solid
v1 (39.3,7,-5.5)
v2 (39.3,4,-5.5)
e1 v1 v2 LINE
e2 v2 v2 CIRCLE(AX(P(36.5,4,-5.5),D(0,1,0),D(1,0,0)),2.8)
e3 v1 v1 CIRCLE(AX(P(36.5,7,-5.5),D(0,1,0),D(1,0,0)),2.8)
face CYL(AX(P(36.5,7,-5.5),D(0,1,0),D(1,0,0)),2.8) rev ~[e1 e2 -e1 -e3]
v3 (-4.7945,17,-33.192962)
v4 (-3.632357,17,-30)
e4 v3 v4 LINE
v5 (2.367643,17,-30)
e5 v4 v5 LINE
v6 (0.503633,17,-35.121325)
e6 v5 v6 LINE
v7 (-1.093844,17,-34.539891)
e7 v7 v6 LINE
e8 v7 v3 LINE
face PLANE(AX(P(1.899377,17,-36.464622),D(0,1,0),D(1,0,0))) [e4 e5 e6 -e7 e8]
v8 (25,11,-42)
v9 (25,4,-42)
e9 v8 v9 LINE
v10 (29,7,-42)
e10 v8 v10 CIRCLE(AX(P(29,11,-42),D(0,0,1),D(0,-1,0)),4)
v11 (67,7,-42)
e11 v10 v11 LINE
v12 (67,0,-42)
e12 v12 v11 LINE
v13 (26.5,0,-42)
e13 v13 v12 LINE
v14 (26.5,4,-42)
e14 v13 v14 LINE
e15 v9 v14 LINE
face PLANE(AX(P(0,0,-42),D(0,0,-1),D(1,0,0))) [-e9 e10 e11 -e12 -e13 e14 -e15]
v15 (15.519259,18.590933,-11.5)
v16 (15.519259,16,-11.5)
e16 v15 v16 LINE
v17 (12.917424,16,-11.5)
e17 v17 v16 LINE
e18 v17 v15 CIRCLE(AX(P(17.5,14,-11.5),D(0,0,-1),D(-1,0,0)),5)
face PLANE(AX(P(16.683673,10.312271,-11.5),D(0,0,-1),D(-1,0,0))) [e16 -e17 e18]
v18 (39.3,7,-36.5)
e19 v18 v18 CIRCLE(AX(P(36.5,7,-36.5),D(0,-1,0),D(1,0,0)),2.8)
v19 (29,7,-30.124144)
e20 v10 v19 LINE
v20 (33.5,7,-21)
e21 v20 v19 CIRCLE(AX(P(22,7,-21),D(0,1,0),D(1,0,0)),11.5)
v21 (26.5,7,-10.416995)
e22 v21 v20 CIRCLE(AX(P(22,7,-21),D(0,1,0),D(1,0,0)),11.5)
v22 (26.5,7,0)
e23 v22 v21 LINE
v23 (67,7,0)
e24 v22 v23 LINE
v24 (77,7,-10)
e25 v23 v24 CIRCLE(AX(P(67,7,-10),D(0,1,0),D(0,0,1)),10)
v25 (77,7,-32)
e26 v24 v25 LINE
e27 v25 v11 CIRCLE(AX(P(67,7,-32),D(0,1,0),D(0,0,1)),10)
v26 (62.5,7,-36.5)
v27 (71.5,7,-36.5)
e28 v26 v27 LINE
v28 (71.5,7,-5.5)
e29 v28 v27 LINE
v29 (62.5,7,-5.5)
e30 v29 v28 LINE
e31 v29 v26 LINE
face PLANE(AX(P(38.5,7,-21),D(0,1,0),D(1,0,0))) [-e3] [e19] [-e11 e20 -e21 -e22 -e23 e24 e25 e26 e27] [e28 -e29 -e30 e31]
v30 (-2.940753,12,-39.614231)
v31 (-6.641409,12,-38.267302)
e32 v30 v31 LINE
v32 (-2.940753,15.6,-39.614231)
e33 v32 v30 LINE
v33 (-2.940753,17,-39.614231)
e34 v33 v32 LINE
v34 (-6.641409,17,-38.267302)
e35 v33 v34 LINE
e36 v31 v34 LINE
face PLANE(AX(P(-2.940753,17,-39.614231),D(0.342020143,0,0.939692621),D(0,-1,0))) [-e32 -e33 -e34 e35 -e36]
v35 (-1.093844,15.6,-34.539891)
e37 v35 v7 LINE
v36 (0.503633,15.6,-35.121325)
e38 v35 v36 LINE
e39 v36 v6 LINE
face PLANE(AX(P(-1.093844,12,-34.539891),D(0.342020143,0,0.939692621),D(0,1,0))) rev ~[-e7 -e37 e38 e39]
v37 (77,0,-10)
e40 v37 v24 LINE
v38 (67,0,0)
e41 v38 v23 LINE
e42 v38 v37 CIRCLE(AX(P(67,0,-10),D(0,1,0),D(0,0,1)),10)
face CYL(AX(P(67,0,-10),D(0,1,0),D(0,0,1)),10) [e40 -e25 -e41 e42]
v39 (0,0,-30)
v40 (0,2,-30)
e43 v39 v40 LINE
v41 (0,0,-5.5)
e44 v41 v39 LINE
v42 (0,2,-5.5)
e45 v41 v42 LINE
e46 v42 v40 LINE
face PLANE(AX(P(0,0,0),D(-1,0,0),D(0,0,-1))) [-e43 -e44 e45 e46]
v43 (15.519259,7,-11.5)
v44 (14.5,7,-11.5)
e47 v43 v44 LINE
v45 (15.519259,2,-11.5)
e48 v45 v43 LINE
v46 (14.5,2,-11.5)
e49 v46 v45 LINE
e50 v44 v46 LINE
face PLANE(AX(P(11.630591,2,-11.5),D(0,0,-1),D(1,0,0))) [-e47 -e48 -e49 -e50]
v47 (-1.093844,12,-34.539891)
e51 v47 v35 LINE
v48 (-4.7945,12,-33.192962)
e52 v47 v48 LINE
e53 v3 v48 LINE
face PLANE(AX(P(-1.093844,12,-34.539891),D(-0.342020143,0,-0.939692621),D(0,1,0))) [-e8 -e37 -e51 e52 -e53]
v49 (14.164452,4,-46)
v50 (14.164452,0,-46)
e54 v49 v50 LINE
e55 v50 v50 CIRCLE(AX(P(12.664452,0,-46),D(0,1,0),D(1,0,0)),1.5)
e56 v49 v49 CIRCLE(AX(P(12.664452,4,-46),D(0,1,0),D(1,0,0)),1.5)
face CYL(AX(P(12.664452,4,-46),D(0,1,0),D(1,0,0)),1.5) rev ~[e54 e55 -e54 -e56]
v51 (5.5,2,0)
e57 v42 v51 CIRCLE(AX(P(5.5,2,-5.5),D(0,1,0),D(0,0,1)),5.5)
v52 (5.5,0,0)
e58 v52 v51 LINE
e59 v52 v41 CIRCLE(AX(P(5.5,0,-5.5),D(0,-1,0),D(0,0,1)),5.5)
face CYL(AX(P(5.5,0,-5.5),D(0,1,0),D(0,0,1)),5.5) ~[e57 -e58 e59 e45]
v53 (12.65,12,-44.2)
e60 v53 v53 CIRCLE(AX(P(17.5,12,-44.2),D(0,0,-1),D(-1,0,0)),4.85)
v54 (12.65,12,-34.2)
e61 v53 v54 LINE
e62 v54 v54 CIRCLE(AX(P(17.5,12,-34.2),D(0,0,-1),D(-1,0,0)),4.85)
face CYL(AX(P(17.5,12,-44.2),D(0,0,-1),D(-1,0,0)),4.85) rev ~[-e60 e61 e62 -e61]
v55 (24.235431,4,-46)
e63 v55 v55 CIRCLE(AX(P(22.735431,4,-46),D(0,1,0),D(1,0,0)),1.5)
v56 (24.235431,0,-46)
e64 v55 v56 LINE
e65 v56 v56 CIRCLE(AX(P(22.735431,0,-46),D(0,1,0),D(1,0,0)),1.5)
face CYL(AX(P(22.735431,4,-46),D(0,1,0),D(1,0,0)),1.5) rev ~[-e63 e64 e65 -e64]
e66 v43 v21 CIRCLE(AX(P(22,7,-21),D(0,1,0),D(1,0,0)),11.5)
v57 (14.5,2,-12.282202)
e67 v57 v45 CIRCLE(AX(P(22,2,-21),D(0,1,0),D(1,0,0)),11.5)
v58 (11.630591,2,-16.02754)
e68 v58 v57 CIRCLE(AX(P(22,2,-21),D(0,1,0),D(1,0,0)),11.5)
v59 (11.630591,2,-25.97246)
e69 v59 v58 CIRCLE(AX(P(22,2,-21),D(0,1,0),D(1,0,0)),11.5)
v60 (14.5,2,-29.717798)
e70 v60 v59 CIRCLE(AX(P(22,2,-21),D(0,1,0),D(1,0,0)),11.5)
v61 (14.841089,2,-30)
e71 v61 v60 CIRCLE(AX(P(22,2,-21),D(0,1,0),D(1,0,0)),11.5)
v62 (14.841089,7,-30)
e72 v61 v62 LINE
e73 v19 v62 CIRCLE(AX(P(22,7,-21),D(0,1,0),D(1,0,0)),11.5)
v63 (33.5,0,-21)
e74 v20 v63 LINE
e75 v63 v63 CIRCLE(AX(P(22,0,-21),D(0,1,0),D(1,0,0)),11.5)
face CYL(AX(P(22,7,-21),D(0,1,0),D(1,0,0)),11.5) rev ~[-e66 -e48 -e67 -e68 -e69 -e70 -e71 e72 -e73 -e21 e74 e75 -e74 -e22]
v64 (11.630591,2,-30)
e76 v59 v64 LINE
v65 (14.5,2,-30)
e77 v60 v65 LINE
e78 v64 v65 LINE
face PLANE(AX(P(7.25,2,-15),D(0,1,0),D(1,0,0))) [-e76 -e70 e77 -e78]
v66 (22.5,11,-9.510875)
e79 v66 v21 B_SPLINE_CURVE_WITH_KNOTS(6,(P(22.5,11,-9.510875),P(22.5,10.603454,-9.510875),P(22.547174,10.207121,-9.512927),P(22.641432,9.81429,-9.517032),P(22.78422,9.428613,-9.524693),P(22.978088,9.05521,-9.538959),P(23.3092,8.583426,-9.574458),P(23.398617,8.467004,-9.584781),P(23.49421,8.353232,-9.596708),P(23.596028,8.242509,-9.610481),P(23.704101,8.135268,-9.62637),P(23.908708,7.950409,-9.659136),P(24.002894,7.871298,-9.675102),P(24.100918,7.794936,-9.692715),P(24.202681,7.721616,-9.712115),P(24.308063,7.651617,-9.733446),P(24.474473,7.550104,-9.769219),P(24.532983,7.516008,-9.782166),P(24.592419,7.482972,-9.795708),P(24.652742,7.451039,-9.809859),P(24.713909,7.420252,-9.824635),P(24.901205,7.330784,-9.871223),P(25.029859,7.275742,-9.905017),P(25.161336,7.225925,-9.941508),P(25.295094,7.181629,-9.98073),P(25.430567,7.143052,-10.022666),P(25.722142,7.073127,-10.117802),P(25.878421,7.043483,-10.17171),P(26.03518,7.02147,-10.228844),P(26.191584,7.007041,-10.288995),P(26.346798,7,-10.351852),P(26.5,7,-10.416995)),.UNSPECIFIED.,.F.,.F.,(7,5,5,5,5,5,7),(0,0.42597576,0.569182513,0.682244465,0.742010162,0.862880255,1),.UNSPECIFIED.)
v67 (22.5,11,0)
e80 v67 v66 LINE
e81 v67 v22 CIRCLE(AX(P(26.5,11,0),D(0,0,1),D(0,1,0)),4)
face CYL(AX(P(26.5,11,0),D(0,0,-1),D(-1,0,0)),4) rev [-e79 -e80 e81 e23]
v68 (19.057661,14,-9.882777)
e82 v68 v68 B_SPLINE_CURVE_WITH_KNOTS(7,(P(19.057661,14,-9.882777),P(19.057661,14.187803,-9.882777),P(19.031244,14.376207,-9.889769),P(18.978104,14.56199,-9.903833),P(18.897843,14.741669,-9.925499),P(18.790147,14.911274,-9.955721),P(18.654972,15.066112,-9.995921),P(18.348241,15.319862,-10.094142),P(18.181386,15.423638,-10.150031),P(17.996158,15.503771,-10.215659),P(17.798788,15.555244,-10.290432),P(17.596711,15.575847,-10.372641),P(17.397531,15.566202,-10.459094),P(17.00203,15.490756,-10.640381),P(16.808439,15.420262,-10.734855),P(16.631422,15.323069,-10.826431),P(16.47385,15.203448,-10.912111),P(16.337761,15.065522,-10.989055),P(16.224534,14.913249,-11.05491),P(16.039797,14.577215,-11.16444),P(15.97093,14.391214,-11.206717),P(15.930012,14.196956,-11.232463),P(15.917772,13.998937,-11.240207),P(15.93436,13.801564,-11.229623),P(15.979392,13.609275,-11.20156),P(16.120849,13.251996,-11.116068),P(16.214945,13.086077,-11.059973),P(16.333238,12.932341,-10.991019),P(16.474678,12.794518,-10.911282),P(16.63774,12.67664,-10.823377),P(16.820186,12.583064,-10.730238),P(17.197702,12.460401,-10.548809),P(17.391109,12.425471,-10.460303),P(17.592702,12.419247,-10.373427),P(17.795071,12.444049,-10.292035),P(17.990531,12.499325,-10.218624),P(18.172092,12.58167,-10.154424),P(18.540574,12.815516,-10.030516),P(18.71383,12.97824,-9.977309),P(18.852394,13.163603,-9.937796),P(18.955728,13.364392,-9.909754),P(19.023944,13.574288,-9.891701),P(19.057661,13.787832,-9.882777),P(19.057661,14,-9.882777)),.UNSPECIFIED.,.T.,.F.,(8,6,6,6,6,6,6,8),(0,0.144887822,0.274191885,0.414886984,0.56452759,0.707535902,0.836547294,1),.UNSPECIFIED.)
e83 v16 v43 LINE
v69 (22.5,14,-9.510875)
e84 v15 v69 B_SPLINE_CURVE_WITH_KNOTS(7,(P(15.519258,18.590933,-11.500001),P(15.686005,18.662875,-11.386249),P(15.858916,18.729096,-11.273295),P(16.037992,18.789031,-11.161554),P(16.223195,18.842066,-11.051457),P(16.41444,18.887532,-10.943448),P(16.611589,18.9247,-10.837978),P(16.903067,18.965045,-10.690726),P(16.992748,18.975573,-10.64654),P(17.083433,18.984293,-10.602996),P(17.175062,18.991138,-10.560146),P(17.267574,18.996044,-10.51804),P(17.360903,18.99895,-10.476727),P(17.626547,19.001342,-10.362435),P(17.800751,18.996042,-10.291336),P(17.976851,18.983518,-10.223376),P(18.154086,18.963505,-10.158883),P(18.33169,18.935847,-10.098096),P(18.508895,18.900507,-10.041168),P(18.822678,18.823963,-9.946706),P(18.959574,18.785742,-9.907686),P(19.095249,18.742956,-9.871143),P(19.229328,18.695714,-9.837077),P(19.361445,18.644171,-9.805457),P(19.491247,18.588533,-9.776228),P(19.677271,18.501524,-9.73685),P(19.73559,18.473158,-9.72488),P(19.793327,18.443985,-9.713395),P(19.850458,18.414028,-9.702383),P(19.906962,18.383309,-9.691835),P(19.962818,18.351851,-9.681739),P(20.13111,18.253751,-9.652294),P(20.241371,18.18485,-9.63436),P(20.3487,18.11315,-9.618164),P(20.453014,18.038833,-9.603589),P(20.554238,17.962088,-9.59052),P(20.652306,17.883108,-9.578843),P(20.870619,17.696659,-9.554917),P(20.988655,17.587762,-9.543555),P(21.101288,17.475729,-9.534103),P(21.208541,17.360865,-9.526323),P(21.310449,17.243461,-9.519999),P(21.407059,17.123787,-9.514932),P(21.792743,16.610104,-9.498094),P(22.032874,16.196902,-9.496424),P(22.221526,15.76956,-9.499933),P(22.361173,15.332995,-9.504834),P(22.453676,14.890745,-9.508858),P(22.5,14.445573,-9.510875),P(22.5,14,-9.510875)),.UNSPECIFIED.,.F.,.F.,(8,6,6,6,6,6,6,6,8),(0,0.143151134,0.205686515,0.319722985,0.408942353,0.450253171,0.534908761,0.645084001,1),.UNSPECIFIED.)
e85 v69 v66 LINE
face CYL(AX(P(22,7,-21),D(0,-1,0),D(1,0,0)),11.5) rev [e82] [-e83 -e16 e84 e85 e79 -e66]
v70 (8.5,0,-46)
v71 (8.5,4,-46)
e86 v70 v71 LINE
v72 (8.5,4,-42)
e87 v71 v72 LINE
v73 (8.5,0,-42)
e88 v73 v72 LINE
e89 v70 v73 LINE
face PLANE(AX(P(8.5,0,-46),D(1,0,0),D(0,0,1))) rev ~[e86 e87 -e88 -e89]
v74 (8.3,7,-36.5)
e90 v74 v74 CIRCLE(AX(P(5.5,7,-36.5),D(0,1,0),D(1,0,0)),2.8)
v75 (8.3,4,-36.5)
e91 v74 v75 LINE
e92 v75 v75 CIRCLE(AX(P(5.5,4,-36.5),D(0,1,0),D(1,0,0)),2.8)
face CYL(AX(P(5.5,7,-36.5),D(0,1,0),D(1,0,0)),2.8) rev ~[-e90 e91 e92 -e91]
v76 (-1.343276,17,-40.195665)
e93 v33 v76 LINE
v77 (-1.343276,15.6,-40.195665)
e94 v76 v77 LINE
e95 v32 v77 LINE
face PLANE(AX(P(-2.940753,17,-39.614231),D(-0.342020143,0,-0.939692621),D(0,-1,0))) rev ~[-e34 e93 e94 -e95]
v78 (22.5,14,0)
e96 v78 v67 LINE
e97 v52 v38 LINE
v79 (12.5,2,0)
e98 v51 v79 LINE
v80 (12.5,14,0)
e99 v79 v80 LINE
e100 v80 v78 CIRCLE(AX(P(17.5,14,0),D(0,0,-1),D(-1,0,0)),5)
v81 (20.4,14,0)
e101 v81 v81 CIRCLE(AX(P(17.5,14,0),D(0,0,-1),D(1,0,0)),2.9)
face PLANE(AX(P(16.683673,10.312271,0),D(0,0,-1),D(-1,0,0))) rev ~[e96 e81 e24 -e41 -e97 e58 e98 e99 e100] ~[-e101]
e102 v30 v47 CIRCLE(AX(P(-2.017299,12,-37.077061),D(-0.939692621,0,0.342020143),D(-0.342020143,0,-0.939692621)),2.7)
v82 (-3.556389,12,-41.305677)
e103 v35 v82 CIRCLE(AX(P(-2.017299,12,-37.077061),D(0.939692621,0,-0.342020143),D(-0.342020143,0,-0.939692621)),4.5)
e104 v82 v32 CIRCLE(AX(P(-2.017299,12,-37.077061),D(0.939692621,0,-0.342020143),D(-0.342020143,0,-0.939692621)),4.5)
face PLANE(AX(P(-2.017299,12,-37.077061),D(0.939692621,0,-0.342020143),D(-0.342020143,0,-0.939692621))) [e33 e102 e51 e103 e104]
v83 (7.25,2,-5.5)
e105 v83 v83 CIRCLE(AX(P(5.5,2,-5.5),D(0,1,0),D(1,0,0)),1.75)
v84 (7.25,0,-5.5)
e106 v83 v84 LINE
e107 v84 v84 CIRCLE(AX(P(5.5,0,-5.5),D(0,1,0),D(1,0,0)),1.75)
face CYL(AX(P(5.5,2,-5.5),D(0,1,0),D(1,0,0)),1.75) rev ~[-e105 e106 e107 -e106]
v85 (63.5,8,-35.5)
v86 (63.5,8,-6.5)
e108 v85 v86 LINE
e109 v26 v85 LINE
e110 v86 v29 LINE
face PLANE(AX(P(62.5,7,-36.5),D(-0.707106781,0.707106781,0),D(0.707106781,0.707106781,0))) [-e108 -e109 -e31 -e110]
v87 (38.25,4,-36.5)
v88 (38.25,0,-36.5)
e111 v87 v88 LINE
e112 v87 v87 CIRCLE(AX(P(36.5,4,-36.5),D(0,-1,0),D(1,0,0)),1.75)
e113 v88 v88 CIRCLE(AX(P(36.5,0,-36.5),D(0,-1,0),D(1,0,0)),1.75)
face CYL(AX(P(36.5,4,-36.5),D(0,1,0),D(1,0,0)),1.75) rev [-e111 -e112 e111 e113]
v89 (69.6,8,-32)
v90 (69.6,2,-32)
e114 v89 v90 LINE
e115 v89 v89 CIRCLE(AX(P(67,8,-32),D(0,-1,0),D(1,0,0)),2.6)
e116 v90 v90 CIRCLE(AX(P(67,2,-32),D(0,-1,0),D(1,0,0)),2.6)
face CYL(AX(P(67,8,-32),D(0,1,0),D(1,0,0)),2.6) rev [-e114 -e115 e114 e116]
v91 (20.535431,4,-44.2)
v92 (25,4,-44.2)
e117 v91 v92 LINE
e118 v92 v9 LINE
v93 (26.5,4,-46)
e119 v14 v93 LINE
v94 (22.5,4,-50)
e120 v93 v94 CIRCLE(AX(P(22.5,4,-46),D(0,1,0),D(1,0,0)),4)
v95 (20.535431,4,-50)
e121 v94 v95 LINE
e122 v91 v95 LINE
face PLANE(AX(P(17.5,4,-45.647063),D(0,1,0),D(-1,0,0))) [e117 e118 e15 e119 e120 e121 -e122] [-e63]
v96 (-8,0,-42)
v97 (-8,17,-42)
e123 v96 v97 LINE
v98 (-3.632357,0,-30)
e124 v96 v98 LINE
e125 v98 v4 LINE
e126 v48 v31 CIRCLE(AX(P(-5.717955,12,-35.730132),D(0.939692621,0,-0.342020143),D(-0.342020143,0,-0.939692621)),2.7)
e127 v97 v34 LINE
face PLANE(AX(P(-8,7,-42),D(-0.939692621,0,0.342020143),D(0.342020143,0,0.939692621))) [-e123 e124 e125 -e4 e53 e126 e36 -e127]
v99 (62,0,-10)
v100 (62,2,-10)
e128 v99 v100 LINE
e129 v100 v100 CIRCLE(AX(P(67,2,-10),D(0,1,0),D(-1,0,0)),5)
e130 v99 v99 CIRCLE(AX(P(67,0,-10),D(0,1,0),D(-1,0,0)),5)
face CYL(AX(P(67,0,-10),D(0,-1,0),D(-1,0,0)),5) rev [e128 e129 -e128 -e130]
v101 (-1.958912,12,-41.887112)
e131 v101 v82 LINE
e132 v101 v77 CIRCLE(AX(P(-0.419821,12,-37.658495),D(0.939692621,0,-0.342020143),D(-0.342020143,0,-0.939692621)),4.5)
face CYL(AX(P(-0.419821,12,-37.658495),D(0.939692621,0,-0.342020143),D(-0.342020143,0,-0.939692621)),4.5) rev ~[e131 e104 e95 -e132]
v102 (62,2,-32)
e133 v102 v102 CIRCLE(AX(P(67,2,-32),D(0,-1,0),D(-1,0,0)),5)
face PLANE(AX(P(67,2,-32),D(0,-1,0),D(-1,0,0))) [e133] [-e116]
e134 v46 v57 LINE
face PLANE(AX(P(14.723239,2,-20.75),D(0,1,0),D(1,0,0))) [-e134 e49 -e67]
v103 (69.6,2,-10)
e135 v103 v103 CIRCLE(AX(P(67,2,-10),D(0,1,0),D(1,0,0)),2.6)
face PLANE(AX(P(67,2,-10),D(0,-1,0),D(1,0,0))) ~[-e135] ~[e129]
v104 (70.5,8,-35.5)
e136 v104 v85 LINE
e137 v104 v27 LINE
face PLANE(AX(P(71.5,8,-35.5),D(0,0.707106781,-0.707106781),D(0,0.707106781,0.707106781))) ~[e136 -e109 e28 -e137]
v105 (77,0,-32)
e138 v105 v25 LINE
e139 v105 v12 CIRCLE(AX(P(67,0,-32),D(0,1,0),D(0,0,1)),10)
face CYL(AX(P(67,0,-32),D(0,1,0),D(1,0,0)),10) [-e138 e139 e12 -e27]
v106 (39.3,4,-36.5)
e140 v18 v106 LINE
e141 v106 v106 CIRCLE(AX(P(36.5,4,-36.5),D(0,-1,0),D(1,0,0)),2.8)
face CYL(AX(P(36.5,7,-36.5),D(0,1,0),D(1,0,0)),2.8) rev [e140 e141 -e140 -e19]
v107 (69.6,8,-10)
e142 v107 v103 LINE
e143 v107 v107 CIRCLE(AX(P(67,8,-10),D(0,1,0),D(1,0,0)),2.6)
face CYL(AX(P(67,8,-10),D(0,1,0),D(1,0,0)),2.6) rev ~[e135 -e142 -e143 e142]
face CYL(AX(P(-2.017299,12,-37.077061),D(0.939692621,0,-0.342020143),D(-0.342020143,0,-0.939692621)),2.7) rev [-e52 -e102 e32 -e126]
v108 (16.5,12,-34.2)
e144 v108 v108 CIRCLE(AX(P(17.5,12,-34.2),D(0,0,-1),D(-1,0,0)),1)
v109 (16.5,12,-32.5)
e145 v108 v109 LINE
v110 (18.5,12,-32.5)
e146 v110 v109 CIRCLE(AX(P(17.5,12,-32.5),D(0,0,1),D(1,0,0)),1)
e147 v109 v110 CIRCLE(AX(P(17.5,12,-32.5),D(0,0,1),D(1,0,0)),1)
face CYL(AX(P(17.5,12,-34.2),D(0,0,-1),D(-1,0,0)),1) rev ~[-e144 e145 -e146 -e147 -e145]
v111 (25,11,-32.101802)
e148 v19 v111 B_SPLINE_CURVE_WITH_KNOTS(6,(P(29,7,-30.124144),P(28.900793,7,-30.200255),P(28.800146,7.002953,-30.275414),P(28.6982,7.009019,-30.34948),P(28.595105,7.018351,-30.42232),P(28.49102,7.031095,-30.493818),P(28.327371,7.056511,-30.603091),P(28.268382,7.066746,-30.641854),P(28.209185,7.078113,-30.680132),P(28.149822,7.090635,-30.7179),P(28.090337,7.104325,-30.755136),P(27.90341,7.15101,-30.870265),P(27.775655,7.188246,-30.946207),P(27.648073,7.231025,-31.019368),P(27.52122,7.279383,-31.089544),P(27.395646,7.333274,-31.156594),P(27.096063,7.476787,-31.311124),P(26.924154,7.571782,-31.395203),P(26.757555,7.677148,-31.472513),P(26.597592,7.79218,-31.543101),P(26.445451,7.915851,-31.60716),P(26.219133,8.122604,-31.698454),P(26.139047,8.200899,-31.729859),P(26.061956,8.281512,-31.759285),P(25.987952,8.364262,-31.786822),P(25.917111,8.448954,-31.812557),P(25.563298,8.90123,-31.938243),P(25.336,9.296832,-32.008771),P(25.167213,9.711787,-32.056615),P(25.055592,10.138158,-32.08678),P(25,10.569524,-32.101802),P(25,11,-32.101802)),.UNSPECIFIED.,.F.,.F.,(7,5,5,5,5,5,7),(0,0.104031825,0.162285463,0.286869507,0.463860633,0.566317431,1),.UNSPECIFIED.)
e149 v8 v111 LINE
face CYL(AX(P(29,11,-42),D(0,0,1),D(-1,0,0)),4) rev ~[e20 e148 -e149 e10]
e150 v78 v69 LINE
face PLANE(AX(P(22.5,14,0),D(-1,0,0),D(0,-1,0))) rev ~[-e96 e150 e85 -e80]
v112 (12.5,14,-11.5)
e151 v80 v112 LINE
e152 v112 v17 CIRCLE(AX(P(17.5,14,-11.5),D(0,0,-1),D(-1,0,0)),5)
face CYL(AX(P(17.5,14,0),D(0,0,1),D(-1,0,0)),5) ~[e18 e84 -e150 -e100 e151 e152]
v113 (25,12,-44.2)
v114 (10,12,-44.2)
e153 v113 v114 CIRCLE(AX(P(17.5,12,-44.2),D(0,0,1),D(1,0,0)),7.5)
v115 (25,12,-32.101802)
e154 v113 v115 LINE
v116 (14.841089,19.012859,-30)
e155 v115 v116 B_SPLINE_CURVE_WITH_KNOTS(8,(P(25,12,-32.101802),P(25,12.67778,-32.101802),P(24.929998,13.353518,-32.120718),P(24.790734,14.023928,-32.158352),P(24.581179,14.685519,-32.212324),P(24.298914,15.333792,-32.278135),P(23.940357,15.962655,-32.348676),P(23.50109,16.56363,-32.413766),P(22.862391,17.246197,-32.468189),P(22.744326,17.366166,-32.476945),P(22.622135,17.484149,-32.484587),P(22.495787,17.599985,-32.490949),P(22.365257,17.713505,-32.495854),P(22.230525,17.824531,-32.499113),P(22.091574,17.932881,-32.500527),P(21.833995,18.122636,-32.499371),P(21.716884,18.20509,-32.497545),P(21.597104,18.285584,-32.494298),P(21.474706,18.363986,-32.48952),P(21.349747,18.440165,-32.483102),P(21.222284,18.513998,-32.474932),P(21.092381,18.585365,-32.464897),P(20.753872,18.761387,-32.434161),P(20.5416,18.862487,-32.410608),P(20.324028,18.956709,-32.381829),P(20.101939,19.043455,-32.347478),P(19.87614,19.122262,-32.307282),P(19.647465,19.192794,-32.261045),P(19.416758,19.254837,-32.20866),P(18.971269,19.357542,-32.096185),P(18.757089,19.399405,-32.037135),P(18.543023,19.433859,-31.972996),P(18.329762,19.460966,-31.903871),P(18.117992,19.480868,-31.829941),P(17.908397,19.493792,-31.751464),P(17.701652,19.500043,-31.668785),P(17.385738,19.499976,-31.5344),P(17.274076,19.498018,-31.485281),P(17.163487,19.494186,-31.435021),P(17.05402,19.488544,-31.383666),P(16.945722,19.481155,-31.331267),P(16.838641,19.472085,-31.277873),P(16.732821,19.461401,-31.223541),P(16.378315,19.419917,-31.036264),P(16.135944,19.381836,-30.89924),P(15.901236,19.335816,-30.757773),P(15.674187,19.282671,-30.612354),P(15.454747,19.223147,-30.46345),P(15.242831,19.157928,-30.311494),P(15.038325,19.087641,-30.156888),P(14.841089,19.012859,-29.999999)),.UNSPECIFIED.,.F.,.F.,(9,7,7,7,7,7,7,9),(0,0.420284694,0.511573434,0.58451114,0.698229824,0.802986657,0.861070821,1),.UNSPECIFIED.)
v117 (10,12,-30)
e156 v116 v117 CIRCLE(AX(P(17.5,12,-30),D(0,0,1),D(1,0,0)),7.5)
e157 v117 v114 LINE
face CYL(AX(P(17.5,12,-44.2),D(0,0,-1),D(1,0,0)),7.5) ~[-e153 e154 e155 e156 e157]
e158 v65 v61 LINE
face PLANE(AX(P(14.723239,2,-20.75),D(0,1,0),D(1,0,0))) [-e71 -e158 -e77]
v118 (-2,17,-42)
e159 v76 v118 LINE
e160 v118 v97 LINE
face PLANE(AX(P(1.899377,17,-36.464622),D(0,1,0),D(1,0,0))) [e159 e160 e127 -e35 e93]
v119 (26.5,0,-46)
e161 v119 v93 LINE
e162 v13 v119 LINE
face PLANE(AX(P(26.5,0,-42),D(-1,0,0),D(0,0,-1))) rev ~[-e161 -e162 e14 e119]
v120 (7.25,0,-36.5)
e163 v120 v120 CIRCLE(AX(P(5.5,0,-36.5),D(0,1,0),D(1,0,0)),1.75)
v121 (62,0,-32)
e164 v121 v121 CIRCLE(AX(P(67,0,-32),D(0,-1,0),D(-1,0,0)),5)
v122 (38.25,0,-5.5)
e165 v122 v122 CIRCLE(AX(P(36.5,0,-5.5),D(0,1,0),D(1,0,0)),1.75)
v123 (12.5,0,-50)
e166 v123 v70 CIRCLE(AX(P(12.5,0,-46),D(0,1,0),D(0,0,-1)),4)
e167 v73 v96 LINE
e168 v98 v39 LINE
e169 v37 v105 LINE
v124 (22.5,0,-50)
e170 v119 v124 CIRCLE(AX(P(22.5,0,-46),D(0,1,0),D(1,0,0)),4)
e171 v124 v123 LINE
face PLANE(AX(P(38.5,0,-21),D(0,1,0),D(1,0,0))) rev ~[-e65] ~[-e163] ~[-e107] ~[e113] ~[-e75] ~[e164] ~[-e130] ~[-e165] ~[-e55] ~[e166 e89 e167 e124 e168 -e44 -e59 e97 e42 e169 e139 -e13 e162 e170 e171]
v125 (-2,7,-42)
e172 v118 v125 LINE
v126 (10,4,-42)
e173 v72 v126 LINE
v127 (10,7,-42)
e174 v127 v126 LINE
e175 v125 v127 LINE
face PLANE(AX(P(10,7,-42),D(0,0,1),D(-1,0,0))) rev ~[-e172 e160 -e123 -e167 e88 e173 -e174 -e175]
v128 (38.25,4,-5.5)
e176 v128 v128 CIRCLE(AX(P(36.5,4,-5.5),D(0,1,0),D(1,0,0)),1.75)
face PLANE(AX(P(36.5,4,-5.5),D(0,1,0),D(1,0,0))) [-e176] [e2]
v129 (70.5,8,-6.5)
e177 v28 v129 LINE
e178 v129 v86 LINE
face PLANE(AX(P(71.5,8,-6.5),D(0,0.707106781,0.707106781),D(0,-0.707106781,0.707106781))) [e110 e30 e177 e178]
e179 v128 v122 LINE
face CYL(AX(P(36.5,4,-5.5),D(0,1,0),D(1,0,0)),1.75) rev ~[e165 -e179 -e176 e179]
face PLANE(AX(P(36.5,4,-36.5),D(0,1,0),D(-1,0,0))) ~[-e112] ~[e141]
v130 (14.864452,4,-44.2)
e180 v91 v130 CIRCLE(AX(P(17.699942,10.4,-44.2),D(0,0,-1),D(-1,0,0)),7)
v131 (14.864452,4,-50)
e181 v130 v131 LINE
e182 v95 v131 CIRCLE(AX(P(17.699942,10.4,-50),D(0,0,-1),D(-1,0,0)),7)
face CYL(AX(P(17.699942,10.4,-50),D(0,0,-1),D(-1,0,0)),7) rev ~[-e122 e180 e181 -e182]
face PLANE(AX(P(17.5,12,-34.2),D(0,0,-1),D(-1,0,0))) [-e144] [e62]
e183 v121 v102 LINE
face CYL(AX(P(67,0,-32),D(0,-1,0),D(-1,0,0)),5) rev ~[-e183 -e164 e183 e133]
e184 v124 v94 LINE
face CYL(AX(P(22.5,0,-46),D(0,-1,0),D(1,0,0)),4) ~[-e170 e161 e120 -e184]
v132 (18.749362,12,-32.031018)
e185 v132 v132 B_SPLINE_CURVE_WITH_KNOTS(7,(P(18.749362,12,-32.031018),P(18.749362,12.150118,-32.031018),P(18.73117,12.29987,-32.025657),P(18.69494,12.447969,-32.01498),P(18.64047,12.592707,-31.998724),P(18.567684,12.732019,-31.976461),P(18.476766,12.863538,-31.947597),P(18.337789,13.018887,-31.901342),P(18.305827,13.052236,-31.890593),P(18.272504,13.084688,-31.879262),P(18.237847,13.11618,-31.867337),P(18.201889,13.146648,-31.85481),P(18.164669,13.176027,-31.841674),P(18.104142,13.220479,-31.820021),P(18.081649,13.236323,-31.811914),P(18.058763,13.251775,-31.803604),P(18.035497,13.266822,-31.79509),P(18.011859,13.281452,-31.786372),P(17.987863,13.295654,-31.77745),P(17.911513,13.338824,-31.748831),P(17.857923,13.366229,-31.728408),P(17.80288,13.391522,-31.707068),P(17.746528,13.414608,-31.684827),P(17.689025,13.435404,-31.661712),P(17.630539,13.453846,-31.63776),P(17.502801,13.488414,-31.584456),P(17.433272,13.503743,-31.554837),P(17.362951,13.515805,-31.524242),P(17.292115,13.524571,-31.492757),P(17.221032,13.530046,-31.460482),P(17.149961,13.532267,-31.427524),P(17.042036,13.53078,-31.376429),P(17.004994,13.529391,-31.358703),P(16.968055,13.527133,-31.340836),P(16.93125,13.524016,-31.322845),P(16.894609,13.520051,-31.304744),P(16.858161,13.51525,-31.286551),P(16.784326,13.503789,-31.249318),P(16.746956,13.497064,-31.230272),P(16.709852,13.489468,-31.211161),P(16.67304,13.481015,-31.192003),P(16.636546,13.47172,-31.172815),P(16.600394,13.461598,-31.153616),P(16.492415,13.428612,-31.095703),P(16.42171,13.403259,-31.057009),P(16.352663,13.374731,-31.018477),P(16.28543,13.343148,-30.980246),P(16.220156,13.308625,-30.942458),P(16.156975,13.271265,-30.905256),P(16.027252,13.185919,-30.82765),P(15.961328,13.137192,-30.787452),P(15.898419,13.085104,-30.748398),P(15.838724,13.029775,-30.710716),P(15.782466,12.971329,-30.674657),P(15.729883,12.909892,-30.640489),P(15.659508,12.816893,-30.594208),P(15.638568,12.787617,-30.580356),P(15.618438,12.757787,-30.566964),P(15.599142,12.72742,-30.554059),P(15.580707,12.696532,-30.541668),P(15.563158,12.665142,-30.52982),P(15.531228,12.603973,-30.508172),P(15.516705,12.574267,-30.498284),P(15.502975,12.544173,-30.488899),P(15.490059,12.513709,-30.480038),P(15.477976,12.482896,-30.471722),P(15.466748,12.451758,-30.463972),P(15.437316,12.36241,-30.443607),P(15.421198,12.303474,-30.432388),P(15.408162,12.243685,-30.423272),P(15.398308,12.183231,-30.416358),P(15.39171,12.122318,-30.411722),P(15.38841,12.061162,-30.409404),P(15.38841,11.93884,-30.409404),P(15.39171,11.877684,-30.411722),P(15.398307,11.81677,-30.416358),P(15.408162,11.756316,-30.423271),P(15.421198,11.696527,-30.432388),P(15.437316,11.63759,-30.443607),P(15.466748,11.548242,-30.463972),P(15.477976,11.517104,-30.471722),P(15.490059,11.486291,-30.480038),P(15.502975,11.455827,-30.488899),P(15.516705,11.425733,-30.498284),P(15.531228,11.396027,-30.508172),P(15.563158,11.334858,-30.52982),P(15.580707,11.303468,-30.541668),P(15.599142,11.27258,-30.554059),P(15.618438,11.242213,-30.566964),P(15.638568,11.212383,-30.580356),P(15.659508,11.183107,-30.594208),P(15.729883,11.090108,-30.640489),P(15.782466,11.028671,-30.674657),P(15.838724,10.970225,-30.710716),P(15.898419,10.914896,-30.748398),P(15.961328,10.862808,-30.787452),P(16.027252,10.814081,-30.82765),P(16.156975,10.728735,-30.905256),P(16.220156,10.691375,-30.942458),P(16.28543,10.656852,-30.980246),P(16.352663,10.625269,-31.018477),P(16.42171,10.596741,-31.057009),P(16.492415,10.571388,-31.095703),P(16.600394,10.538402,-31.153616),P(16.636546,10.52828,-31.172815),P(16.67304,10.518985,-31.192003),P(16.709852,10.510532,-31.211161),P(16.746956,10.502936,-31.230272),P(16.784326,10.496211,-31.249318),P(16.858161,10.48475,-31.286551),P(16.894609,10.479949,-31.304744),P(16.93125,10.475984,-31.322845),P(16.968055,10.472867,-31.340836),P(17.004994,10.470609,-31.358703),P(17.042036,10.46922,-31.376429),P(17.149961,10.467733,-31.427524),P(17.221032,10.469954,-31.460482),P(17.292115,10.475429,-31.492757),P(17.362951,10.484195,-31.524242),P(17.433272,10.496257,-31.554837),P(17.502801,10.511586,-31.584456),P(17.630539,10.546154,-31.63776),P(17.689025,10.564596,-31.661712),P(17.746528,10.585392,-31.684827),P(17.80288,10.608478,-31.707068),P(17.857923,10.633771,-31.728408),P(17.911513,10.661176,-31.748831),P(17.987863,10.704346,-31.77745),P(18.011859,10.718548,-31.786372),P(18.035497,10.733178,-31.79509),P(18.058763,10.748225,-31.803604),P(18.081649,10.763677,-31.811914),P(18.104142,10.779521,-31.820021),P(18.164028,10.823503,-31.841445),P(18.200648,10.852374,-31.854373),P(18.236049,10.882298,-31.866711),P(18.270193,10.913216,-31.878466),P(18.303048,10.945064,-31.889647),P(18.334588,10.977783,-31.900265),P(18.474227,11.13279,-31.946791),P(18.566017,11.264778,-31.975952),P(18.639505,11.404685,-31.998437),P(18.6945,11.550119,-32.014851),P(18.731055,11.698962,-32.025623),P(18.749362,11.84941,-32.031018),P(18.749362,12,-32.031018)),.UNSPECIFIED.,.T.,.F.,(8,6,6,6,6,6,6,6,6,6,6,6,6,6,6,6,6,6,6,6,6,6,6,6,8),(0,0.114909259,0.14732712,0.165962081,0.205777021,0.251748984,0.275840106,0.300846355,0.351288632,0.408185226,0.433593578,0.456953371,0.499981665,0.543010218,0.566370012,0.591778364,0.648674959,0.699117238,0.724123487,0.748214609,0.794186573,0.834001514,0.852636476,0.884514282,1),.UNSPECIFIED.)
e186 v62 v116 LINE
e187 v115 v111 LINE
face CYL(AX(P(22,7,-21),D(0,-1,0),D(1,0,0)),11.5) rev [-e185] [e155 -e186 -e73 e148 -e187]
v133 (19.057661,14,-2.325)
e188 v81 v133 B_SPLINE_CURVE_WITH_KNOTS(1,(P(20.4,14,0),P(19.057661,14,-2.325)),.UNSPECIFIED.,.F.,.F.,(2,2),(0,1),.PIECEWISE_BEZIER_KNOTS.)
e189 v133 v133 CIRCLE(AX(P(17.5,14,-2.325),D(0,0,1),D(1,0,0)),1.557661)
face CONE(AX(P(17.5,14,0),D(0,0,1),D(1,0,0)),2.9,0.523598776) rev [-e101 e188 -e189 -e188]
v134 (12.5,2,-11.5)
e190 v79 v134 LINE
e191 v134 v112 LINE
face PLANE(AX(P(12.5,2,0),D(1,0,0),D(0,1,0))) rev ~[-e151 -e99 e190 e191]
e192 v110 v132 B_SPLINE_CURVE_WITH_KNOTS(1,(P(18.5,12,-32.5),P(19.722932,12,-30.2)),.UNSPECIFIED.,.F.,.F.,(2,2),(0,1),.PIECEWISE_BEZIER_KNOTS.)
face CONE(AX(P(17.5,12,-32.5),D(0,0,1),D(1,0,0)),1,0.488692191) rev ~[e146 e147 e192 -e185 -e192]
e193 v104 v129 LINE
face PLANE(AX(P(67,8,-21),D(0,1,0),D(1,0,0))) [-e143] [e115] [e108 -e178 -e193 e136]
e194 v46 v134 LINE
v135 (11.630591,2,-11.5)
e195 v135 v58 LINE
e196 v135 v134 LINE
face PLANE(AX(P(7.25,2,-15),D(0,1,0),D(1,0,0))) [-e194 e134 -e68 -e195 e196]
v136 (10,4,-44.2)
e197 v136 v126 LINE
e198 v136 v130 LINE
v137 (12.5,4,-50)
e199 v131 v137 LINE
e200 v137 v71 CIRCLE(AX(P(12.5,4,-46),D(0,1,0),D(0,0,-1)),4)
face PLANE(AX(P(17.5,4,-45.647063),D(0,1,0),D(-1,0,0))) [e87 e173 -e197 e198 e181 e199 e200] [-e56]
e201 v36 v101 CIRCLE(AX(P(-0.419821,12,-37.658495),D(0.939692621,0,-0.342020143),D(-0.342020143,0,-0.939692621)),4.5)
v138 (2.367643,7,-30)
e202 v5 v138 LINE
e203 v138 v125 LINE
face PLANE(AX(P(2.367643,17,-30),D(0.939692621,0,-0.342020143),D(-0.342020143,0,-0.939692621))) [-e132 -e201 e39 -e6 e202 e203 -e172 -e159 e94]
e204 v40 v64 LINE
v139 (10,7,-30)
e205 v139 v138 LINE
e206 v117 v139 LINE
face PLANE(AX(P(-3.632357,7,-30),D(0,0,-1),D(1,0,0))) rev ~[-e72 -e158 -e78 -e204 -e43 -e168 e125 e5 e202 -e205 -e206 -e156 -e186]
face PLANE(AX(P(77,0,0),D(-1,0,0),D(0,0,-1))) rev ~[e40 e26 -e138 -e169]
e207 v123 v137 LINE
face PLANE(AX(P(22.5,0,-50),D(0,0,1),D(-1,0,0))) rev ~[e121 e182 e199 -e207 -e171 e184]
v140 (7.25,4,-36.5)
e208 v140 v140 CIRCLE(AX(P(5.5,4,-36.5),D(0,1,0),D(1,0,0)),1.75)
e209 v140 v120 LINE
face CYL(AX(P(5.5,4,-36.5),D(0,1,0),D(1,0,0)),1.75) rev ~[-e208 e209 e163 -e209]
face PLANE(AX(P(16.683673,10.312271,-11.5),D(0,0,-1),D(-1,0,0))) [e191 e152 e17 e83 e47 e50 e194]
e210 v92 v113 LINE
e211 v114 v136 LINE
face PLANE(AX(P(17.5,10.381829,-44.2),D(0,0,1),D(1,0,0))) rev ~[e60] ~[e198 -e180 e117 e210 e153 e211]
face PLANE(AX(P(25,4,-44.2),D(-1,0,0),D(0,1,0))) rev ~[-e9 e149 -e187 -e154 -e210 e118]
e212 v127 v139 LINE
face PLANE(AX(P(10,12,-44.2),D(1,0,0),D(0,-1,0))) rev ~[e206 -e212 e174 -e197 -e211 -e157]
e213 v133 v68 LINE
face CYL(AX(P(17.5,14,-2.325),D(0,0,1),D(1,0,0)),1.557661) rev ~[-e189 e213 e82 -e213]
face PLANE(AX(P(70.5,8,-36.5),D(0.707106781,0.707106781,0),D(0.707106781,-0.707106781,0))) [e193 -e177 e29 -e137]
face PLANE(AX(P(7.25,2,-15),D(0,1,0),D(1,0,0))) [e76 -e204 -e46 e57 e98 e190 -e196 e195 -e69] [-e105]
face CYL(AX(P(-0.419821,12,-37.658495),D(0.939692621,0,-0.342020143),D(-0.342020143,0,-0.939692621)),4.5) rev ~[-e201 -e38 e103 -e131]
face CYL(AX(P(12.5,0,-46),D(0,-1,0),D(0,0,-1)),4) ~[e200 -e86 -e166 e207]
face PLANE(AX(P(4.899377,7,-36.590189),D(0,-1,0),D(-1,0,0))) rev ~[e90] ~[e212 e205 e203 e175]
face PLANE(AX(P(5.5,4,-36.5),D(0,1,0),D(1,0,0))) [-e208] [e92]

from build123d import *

# Parameters (mm, degrees)
SKETCH1_W                = 77
SKETCH1_H                = 42
BOSS_EXTRUDE1_DEPTH      = 7
FILLET1_R                = 10
FILLET2_R                = 10
FILLET3_R                = 5.5
SKETCH2_W                = 9
SKETCH2_H                = 31
BOSS_EXTRUDE2_DEPTH      = 1
CUT_EXTRUDE1_DEPTH       = 11
CUT_EXTRUDE2_DEPTH       = 31
SKETCH5_R                = 2.6
CUT_EXTRUDE3_DEPTH       = 6
SKETCH6_R                = 2.8
CUT_EXTRUDE4_DEPTH       = 3
SKETCH7_R                = 1.75
CUT_EXTRUDE5_DEPTH       = 4
SKETCH8_W                = 14.5
SKETCH8_H                = 30
CUT_EXTRUDE6_DEPTH       = 5
BOSS_EXTRUDE3_DEPTH      = 11.5
BOSS_EXTRUDE4_DEPTH      = 4
BOSS_EXTRUDE5_DEPTH      = 14.2
FILLET4_R                = 4
FILLET5_R                = 4
SKETCH12_R               = 11.5
CUT_EXTRUDE7_DEPTH       = 14
CUT_EXTRUDE7_DEPTH_BACK  = 14
SKETCH13_W               = 6.185296294
SKETCH13_H               = 18.5
CUT_EXTRUDE8_DEPTH       = 14
BOSS_EXTRUDE6_DEPTH      = 10
BOSS_EXTRUDE6_DEPTH_BACK = 7
CUT_EXTRUDE9_DEPTH       = 10
SKETCH16_R               = 4.85
CUT_EXTRUDE10_DEPTH      = 10
SKETCH17_R               = 1
CUT_EXTRUDE11_DEPTH      = 5
SKETCH19_R               = 2.8
CUT_EXTRUDE12_DEPTH      = 3
SKETCH20_R               = 1.75
CUT_EXTRUDE13_DEPTH      = 8
SKETCH21_R               = 4.5
CUT_EXTRUDE14_DEPTH      = 1.7
CUT_EXTRUDE15_DEPTH      = 1.7
CUT_EXTRUDE15_DEPTH_BACK = 31.7
SKETCH23_R               = 1.75
CUT_EXTRUDE16_DEPTH      = 50.7
SKETCH24_R               = 2.9
CUT_EXTRUDE17_DEPTH      = 2.325
CUT_EXTRUDE17_TAPER      = 30
CUT_EXTRUDE18_REACH      = 49.675
SKETCH25_R               = 1.557660624
SKETCH26_R               = 7
CUT_EXTRUDE19_DEPTH      = 5.8
SKETCH27_R               = 1.5
CUT_EXTRUDE20_DEPTH      = 5.0000001
SKETCH29_R               = 5
CUT_EXTRUDE21_DEPTH      = 2
MIRROR5_COPY_1_SKETCH_R  = 2.6
MIRROR5_COPY_1_DEPTH     = 6
MIRROR5_COPY_2_SKETCH_R  = 2.6
MIRROR5_COPY_2_DEPTH     = 6
SKETCH35_R               = 1
CUT_EXTRUDE23_DEPTH      = 2.3
CUT_EXTRUDE23_TAPER      = -28


with BuildPart() as part:
    # Sketch1 → Boss-Extrude1 (new body)
    with BuildSketch(Plane(origin=(0, 0, 0), x_dir=(1, 0, 0), z_dir=(0, 1, 0))):
        with Locations((38.5, 21)):
            Rectangle(SKETCH1_W, SKETCH1_H)
    extrude(amount=BOSS_EXTRUDE1_DEPTH)

    # Fillet1
    fillet1_edges = [part.edges().sort_by_distance(p)[0] for p in [
        (77, 3.5, 0),
    ]]
    fillet(fillet1_edges, radius=FILLET1_R)

    # Fillet2
    fillet2_edges = [part.edges().sort_by_distance(p)[0] for p in [
        (77, 3.5, -42),
    ]]
    fillet(fillet2_edges, radius=FILLET2_R)

    # Fillet3
    fillet3_edges = [part.edges().sort_by_distance(p)[0] for p in [
        (0, 3.5, 0),
    ]]
    fillet(fillet3_edges, radius=FILLET3_R)

    # Sketch2 → Boss-Extrude2 (add)
    with BuildSketch(Plane(origin=(0, 7, 0), x_dir=(1, 0, 0), z_dir=(0, 1, 0))):
        with Locations((67, 21)):
            Rectangle(SKETCH2_W, SKETCH2_H)
    extrude(amount=BOSS_EXTRUDE2_DEPTH)

    # Sketch3 → Cut-Extrude1 (cut)
    with BuildSketch(Plane(origin=(71.5, 0, 0), x_dir=(0, 0, -1), z_dir=(1, 0, 0))):
        Polygon((5.5, 7), (5.5, 8), (6.5, 8), align=None)
    cut_extrude1 = extrude(amount=-CUT_EXTRUDE1_DEPTH, mode=Mode.SUBTRACT)

    # Sketch4 → Cut-Extrude2 (cut)
    with BuildSketch(Plane(origin=(0, 0, -36.5), x_dir=(-1, 0, 0), z_dir=(0, 0, -1))):
        Polygon((-71.5, 8), (-70.5, 8), (-71.5, 7), align=None)
        Polygon((-62.5, 8), (-62.5, 7), (-63.5, 8), align=None)
    extrude(amount=-CUT_EXTRUDE2_DEPTH, mode=Mode.SUBTRACT)

    # Mirror2: Cut-Extrude1 across plane
    add(cut_extrude1.mirror(Plane.XY.offset(-21)), mode=Mode.SUBTRACT)

    # Sketch5 → Cut-Extrude3 (cut)
    with BuildSketch(Plane(origin=(0, 8, 0), x_dir=(1, 0, 0), z_dir=(0, 1, 0))):
        with Locations((67, 10)):
            Circle(SKETCH5_R)
    cut_extrude3 = extrude(amount=-CUT_EXTRUDE3_DEPTH, mode=Mode.SUBTRACT)

    # Mirror3: Cut-Extrude3 across plane
    add(cut_extrude3.mirror(Plane.XY.offset(-21)), mode=Mode.SUBTRACT)

    # Sketch6 → Cut-Extrude4 (cut)
    with BuildSketch(Plane(origin=(0, 7, 0), x_dir=(1, 0, 0), z_dir=(0, 1, 0))):
        with Locations((36.5, 5.5)):
            Circle(SKETCH6_R)
    cut_extrude4 = extrude(amount=-CUT_EXTRUDE4_DEPTH, mode=Mode.SUBTRACT)

    # Sketch7 → Cut-Extrude5 (cut)
    with BuildSketch(Plane(origin=(0, 4, 0), x_dir=(1, 0, 0), z_dir=(0, 1, 0))):
        with Locations((36.5, 5.5)):
            Circle(SKETCH7_R)
    cut_extrude5 = extrude(amount=-CUT_EXTRUDE5_DEPTH, mode=Mode.SUBTRACT)

    # Mirror4: Cut-Extrude4, Cut-Extrude5 across plane
    add(cut_extrude4.mirror(Plane.XY.offset(-21)), mode=Mode.SUBTRACT)
    add(cut_extrude5.mirror(Plane.XY.offset(-21)), mode=Mode.SUBTRACT)

    # Sketch8 → Cut-Extrude6 (cut)
    with BuildSketch(Plane(origin=(0, 7, 0), x_dir=(1, 0, 0), z_dir=(0, 1, 0))):
        with Locations((7.25, 15)):
            Rectangle(SKETCH8_W, SKETCH8_H)
    extrude(amount=-CUT_EXTRUDE6_DEPTH, mode=Mode.SUBTRACT)

    # Sketch9 → Boss-Extrude3 (add)
    with BuildSketch(Plane.XY):
        with BuildLine():
            Line((12.5, 2), (12.5, 14))
            ThreePointArc((12.5, 14), (17.5, 19), (22.5, 14))
            Line((22.5, 14), (22.5, 7))
            Line((22.5, 7), (14.5, 7))
            Line((14.5, 7), (14.5, 2))
            Line((14.5, 2), (12.5, 2))
        make_face()
    extrude(amount=-BOSS_EXTRUDE3_DEPTH)

    # Sketch10 → Boss-Extrude4 (add)
    with BuildSketch(Plane.XZ):
        with BuildLine():
            Line((26.5, -42), (26.5, -46))
            ThreePointArc((26.5, -46), (25.328427125, -48.828427125), (22.5, -50))
            Line((22.5, -50), (12.5, -50))
            ThreePointArc((12.5, -50), (9.671572875, -48.828427125), (8.5, -46))
            Line((8.5, -46), (8.5, -42))
            Line((8.5, -42), (26.5, -42))
        make_face()
    extrude(amount=-BOSS_EXTRUDE4_DEPTH)

    # Sketch11 → Boss-Extrude5 (add)
    with BuildSketch(Plane(origin=(0, 0, -44.2), x_dir=(-1, 0, 0), z_dir=(0, 0, -1))):
        with BuildLine():
            Line((-25, 4), (-25, 12))
            ThreePointArc((-25, 12), (-17.5, 19.5), (-10, 12))
            Line((-10, 12), (-10, 4))
            Line((-10, 4), (-25, 4))
        make_face()
    extrude(amount=-BOSS_EXTRUDE5_DEPTH)

    # Fillet4
    fillet4_edges = [part.edges().sort_by_distance(p)[0] for p in [
        (22.5, 7, -5.75),
    ]]
    fillet(fillet4_edges, radius=FILLET4_R)

    # Fillet5
    fillet5_edges = [part.edges().sort_by_distance(p)[0] for p in [
        (25, 7, -36),
    ]]
    fillet(fillet5_edges, radius=FILLET5_R)

    # Sketch12 → Cut-Extrude7 (cut, two sides)
    with BuildSketch(Plane(origin=(0, 7, 0), x_dir=(1, 0, 0), z_dir=(0, 1, 0))) as cut_extrude7_sk:
        with Locations((22, 21)):
            Circle(SKETCH12_R)
    extrude(amount=CUT_EXTRUDE7_DEPTH, mode=Mode.SUBTRACT)
    extrude(cut_extrude7_sk.sketch, amount=-CUT_EXTRUDE7_DEPTH_BACK, mode=Mode.SUBTRACT)

    # Sketch13 → Cut-Extrude8 (cut)
    with BuildSketch(Plane(origin=(0, 2, 0), x_dir=(1, 0, 0), z_dir=(0, 1, 0))):
        with Locations((14.723239075, 20.75)):
            Rectangle(SKETCH13_W, SKETCH13_H)
    extrude(amount=CUT_EXTRUDE8_DEPTH, mode=Mode.SUBTRACT)

    # Sketch14 → Boss-Extrude6 (add, two sides)
    with BuildSketch(Plane(origin=(0, 7, 0), x_dir=(1, 0, 0), z_dir=(0, 1, 0))) as boss_extrude6_sk:
        Polygon((10, 42), (-8, 42), (-3.632357189, 30), (10, 30), align=None)
    extrude(amount=BOSS_EXTRUDE6_DEPTH)
    extrude(boss_extrude6_sk.sketch, amount=-BOSS_EXTRUDE6_DEPTH_BACK)

    # Sketch15 → Cut-Extrude9 (cut)
    with BuildSketch(Plane(origin=(0, 17, 0), x_dir=(1, 0, 0), z_dir=(0, 1, 0))):
        Polygon((10, 42), (10, 30), (2.367642811, 30), (-2, 42), align=None)
    extrude(amount=-CUT_EXTRUDE9_DEPTH, mode=Mode.SUBTRACT)

    # Sketch16 → Cut-Extrude10 (cut)
    with BuildSketch(Plane(origin=(0, 0, -44.2), x_dir=(-1, 0, 0), z_dir=(0, 0, -1))):
        with Locations((-17.5, 12)):
            Circle(SKETCH16_R)
    extrude(amount=-CUT_EXTRUDE10_DEPTH, mode=Mode.SUBTRACT)

    # Sketch17 → Cut-Extrude11 (cut)
    with BuildSketch(Plane(origin=(0, 0, -34.2), x_dir=(-1, 0, 0), z_dir=(0, 0, -1))):
        with Locations((-17.5, 12)):
            Circle(SKETCH17_R)
    extrude(amount=-CUT_EXTRUDE11_DEPTH, mode=Mode.SUBTRACT)

    # Sketch19 → Cut-Extrude12 (cut)
    with BuildSketch(Plane(origin=(0, 7, 0), x_dir=(1, 0, 0), z_dir=(0, 1, 0))):
        with Locations((5.5, 36.5)):
            Circle(SKETCH19_R)
    extrude(amount=-CUT_EXTRUDE12_DEPTH, mode=Mode.SUBTRACT)

    # Sketch20 → Cut-Extrude13 (cut)
    with BuildSketch(Plane(origin=(0, 4, 0), x_dir=(1, 0, 0), z_dir=(0, 1, 0))):
        with Locations((5.5, 36.5)):
            Circle(SKETCH20_R)
    extrude(amount=-CUT_EXTRUDE13_DEPTH, mode=Mode.SUBTRACT)

    # Sketch21 → Cut-Extrude14 (cut)
    with BuildSketch(Plane(origin=(11.73249536, 0, -4.270279085), x_dir=(-0.342020143, 0, -0.939692621), z_dir=(0.939692621, 0, -0.342020143))):
        with Locations((35.53099709, 12)):
            Circle(SKETCH21_R)
    extrude(amount=-CUT_EXTRUDE14_DEPTH, mode=Mode.SUBTRACT)

    # Sketch22 → Cut-Extrude15 (cut, two sides)
    with BuildSketch(Plane(origin=(10.135017905, 0, -3.688844841), x_dir=(-0.342020143, 0, -0.939692621), z_dir=(0.939692621, 0, -0.342020143))) as cut_extrude15_sk:
        with BuildLine():
            Line((32.83099709, 12), (32.83099709, 17))
            Line((32.83099709, 17), (38.23099709, 17))
            Line((38.23099709, 17), (38.23099709, 12))
            ThreePointArc((38.23099709, 12), (35.53099709, 9.3), (32.83099709, 12))
        make_face()
    extrude(amount=CUT_EXTRUDE15_DEPTH, mode=Mode.SUBTRACT)
    extrude(cut_extrude15_sk.sketch, amount=-CUT_EXTRUDE15_DEPTH_BACK, mode=Mode.SUBTRACT)

    # Sketch23 → Cut-Extrude16 (cut)
    with BuildSketch(Plane(origin=(0, 2, 0), x_dir=(1, 0, 0), z_dir=(0, 1, 0))):
        with Locations((5.5, 5.5)):
            Circle(SKETCH23_R)
    extrude(amount=-CUT_EXTRUDE16_DEPTH, mode=Mode.SUBTRACT)

    # Sketch24 → Cut-Extrude17 (cut)
    with BuildSketch(Plane.XY):
        with Locations((17.5, 14)):
            Circle(SKETCH24_R)
    extrude(amount=-CUT_EXTRUDE17_DEPTH, taper=CUT_EXTRUDE17_TAPER, mode=Mode.SUBTRACT)

    # Sketch25 → Cut-Extrude18 (cut, up to next)
    with BuildSketch(Plane.XY.offset(-2.325), mode=Mode.PRIVATE) as cut_extrude18_sk1:
        with Locations((17.5, 14)):
            Circle(SKETCH25_R)
    cut_extrude18_tool1 = extrude(cut_extrude18_sk1.sketch, amount=-CUT_EXTRUDE18_REACH, mode=Mode.PRIVATE) & part.part
    add(cut_extrude18_tool1.solids().sort_by_distance((17.5, 14, -2.325))[0], mode=Mode.SUBTRACT)

    # Sketch26 → Cut-Extrude19 (cut)
    with BuildSketch(Plane(origin=(0, 0, -50), x_dir=(-1, 0, 0), z_dir=(0, 0, -1))):
        with Locations((-17.699941677, 10.4)):
            Circle(SKETCH26_R)
    extrude(amount=-CUT_EXTRUDE19_DEPTH, mode=Mode.SUBTRACT)

    # Sketch27 → Cut-Extrude20 (cut, through all)
    with BuildSketch(Plane(origin=(0, 4, 0), x_dir=(1, 0, 0), z_dir=(0, 1, 0))):
        with Locations((22.735431052, 46)):
            Circle(SKETCH27_R)
        with Locations((12.664452301, 46)):
            Circle(SKETCH27_R)
    extrude(amount=-CUT_EXTRUDE20_DEPTH, mode=Mode.SUBTRACT)

    # Sketch29 → Cut-Extrude21 (cut)
    with BuildSketch(Plane(origin=(0, 0, 0), x_dir=(-1, 0, 0), z_dir=(0, -1, 0))):
        with Locations((-67, 32)):
            Circle(SKETCH29_R)
    cut_extrude21 = extrude(amount=-CUT_EXTRUDE21_DEPTH, mode=Mode.SUBTRACT)

    # Mirror5: Cut-Extrude21 across plane
    add(cut_extrude21.mirror(Plane.XY.offset(-21)), mode=Mode.SUBTRACT)

    # Mirror5 copy 1 sketch → Mirror5 copy 1 (cut)
    with BuildSketch(Plane(origin=(0, 8, 0), x_dir=(1, 0, 0), z_dir=(0, 1, 0))):
        with Locations((67, 10)):
            Circle(MIRROR5_COPY_1_SKETCH_R)
    extrude(amount=-MIRROR5_COPY_1_DEPTH, mode=Mode.SUBTRACT)

    # Mirror5 copy 2 sketch → Mirror5 copy 2 (cut)
    with BuildSketch(Plane(origin=(0, 8, -42), x_dir=(1, 0, 0), z_dir=(0, 1, 0))):
        with Locations((67, -10)):
            Circle(MIRROR5_COPY_2_SKETCH_R)
    extrude(amount=-MIRROR5_COPY_2_DEPTH, mode=Mode.SUBTRACT)

    # Sketch35 → Cut-Extrude23 (cut)
    with BuildSketch(Plane.XY.offset(-32.5)):
        with Locations((17.5, 12)):
            Circle(SKETCH35_R)
    extrude(amount=CUT_EXTRUDE23_DEPTH, taper=CUT_EXTRUDE23_TAPER, mode=Mode.SUBTRACT)


solid = part.part
